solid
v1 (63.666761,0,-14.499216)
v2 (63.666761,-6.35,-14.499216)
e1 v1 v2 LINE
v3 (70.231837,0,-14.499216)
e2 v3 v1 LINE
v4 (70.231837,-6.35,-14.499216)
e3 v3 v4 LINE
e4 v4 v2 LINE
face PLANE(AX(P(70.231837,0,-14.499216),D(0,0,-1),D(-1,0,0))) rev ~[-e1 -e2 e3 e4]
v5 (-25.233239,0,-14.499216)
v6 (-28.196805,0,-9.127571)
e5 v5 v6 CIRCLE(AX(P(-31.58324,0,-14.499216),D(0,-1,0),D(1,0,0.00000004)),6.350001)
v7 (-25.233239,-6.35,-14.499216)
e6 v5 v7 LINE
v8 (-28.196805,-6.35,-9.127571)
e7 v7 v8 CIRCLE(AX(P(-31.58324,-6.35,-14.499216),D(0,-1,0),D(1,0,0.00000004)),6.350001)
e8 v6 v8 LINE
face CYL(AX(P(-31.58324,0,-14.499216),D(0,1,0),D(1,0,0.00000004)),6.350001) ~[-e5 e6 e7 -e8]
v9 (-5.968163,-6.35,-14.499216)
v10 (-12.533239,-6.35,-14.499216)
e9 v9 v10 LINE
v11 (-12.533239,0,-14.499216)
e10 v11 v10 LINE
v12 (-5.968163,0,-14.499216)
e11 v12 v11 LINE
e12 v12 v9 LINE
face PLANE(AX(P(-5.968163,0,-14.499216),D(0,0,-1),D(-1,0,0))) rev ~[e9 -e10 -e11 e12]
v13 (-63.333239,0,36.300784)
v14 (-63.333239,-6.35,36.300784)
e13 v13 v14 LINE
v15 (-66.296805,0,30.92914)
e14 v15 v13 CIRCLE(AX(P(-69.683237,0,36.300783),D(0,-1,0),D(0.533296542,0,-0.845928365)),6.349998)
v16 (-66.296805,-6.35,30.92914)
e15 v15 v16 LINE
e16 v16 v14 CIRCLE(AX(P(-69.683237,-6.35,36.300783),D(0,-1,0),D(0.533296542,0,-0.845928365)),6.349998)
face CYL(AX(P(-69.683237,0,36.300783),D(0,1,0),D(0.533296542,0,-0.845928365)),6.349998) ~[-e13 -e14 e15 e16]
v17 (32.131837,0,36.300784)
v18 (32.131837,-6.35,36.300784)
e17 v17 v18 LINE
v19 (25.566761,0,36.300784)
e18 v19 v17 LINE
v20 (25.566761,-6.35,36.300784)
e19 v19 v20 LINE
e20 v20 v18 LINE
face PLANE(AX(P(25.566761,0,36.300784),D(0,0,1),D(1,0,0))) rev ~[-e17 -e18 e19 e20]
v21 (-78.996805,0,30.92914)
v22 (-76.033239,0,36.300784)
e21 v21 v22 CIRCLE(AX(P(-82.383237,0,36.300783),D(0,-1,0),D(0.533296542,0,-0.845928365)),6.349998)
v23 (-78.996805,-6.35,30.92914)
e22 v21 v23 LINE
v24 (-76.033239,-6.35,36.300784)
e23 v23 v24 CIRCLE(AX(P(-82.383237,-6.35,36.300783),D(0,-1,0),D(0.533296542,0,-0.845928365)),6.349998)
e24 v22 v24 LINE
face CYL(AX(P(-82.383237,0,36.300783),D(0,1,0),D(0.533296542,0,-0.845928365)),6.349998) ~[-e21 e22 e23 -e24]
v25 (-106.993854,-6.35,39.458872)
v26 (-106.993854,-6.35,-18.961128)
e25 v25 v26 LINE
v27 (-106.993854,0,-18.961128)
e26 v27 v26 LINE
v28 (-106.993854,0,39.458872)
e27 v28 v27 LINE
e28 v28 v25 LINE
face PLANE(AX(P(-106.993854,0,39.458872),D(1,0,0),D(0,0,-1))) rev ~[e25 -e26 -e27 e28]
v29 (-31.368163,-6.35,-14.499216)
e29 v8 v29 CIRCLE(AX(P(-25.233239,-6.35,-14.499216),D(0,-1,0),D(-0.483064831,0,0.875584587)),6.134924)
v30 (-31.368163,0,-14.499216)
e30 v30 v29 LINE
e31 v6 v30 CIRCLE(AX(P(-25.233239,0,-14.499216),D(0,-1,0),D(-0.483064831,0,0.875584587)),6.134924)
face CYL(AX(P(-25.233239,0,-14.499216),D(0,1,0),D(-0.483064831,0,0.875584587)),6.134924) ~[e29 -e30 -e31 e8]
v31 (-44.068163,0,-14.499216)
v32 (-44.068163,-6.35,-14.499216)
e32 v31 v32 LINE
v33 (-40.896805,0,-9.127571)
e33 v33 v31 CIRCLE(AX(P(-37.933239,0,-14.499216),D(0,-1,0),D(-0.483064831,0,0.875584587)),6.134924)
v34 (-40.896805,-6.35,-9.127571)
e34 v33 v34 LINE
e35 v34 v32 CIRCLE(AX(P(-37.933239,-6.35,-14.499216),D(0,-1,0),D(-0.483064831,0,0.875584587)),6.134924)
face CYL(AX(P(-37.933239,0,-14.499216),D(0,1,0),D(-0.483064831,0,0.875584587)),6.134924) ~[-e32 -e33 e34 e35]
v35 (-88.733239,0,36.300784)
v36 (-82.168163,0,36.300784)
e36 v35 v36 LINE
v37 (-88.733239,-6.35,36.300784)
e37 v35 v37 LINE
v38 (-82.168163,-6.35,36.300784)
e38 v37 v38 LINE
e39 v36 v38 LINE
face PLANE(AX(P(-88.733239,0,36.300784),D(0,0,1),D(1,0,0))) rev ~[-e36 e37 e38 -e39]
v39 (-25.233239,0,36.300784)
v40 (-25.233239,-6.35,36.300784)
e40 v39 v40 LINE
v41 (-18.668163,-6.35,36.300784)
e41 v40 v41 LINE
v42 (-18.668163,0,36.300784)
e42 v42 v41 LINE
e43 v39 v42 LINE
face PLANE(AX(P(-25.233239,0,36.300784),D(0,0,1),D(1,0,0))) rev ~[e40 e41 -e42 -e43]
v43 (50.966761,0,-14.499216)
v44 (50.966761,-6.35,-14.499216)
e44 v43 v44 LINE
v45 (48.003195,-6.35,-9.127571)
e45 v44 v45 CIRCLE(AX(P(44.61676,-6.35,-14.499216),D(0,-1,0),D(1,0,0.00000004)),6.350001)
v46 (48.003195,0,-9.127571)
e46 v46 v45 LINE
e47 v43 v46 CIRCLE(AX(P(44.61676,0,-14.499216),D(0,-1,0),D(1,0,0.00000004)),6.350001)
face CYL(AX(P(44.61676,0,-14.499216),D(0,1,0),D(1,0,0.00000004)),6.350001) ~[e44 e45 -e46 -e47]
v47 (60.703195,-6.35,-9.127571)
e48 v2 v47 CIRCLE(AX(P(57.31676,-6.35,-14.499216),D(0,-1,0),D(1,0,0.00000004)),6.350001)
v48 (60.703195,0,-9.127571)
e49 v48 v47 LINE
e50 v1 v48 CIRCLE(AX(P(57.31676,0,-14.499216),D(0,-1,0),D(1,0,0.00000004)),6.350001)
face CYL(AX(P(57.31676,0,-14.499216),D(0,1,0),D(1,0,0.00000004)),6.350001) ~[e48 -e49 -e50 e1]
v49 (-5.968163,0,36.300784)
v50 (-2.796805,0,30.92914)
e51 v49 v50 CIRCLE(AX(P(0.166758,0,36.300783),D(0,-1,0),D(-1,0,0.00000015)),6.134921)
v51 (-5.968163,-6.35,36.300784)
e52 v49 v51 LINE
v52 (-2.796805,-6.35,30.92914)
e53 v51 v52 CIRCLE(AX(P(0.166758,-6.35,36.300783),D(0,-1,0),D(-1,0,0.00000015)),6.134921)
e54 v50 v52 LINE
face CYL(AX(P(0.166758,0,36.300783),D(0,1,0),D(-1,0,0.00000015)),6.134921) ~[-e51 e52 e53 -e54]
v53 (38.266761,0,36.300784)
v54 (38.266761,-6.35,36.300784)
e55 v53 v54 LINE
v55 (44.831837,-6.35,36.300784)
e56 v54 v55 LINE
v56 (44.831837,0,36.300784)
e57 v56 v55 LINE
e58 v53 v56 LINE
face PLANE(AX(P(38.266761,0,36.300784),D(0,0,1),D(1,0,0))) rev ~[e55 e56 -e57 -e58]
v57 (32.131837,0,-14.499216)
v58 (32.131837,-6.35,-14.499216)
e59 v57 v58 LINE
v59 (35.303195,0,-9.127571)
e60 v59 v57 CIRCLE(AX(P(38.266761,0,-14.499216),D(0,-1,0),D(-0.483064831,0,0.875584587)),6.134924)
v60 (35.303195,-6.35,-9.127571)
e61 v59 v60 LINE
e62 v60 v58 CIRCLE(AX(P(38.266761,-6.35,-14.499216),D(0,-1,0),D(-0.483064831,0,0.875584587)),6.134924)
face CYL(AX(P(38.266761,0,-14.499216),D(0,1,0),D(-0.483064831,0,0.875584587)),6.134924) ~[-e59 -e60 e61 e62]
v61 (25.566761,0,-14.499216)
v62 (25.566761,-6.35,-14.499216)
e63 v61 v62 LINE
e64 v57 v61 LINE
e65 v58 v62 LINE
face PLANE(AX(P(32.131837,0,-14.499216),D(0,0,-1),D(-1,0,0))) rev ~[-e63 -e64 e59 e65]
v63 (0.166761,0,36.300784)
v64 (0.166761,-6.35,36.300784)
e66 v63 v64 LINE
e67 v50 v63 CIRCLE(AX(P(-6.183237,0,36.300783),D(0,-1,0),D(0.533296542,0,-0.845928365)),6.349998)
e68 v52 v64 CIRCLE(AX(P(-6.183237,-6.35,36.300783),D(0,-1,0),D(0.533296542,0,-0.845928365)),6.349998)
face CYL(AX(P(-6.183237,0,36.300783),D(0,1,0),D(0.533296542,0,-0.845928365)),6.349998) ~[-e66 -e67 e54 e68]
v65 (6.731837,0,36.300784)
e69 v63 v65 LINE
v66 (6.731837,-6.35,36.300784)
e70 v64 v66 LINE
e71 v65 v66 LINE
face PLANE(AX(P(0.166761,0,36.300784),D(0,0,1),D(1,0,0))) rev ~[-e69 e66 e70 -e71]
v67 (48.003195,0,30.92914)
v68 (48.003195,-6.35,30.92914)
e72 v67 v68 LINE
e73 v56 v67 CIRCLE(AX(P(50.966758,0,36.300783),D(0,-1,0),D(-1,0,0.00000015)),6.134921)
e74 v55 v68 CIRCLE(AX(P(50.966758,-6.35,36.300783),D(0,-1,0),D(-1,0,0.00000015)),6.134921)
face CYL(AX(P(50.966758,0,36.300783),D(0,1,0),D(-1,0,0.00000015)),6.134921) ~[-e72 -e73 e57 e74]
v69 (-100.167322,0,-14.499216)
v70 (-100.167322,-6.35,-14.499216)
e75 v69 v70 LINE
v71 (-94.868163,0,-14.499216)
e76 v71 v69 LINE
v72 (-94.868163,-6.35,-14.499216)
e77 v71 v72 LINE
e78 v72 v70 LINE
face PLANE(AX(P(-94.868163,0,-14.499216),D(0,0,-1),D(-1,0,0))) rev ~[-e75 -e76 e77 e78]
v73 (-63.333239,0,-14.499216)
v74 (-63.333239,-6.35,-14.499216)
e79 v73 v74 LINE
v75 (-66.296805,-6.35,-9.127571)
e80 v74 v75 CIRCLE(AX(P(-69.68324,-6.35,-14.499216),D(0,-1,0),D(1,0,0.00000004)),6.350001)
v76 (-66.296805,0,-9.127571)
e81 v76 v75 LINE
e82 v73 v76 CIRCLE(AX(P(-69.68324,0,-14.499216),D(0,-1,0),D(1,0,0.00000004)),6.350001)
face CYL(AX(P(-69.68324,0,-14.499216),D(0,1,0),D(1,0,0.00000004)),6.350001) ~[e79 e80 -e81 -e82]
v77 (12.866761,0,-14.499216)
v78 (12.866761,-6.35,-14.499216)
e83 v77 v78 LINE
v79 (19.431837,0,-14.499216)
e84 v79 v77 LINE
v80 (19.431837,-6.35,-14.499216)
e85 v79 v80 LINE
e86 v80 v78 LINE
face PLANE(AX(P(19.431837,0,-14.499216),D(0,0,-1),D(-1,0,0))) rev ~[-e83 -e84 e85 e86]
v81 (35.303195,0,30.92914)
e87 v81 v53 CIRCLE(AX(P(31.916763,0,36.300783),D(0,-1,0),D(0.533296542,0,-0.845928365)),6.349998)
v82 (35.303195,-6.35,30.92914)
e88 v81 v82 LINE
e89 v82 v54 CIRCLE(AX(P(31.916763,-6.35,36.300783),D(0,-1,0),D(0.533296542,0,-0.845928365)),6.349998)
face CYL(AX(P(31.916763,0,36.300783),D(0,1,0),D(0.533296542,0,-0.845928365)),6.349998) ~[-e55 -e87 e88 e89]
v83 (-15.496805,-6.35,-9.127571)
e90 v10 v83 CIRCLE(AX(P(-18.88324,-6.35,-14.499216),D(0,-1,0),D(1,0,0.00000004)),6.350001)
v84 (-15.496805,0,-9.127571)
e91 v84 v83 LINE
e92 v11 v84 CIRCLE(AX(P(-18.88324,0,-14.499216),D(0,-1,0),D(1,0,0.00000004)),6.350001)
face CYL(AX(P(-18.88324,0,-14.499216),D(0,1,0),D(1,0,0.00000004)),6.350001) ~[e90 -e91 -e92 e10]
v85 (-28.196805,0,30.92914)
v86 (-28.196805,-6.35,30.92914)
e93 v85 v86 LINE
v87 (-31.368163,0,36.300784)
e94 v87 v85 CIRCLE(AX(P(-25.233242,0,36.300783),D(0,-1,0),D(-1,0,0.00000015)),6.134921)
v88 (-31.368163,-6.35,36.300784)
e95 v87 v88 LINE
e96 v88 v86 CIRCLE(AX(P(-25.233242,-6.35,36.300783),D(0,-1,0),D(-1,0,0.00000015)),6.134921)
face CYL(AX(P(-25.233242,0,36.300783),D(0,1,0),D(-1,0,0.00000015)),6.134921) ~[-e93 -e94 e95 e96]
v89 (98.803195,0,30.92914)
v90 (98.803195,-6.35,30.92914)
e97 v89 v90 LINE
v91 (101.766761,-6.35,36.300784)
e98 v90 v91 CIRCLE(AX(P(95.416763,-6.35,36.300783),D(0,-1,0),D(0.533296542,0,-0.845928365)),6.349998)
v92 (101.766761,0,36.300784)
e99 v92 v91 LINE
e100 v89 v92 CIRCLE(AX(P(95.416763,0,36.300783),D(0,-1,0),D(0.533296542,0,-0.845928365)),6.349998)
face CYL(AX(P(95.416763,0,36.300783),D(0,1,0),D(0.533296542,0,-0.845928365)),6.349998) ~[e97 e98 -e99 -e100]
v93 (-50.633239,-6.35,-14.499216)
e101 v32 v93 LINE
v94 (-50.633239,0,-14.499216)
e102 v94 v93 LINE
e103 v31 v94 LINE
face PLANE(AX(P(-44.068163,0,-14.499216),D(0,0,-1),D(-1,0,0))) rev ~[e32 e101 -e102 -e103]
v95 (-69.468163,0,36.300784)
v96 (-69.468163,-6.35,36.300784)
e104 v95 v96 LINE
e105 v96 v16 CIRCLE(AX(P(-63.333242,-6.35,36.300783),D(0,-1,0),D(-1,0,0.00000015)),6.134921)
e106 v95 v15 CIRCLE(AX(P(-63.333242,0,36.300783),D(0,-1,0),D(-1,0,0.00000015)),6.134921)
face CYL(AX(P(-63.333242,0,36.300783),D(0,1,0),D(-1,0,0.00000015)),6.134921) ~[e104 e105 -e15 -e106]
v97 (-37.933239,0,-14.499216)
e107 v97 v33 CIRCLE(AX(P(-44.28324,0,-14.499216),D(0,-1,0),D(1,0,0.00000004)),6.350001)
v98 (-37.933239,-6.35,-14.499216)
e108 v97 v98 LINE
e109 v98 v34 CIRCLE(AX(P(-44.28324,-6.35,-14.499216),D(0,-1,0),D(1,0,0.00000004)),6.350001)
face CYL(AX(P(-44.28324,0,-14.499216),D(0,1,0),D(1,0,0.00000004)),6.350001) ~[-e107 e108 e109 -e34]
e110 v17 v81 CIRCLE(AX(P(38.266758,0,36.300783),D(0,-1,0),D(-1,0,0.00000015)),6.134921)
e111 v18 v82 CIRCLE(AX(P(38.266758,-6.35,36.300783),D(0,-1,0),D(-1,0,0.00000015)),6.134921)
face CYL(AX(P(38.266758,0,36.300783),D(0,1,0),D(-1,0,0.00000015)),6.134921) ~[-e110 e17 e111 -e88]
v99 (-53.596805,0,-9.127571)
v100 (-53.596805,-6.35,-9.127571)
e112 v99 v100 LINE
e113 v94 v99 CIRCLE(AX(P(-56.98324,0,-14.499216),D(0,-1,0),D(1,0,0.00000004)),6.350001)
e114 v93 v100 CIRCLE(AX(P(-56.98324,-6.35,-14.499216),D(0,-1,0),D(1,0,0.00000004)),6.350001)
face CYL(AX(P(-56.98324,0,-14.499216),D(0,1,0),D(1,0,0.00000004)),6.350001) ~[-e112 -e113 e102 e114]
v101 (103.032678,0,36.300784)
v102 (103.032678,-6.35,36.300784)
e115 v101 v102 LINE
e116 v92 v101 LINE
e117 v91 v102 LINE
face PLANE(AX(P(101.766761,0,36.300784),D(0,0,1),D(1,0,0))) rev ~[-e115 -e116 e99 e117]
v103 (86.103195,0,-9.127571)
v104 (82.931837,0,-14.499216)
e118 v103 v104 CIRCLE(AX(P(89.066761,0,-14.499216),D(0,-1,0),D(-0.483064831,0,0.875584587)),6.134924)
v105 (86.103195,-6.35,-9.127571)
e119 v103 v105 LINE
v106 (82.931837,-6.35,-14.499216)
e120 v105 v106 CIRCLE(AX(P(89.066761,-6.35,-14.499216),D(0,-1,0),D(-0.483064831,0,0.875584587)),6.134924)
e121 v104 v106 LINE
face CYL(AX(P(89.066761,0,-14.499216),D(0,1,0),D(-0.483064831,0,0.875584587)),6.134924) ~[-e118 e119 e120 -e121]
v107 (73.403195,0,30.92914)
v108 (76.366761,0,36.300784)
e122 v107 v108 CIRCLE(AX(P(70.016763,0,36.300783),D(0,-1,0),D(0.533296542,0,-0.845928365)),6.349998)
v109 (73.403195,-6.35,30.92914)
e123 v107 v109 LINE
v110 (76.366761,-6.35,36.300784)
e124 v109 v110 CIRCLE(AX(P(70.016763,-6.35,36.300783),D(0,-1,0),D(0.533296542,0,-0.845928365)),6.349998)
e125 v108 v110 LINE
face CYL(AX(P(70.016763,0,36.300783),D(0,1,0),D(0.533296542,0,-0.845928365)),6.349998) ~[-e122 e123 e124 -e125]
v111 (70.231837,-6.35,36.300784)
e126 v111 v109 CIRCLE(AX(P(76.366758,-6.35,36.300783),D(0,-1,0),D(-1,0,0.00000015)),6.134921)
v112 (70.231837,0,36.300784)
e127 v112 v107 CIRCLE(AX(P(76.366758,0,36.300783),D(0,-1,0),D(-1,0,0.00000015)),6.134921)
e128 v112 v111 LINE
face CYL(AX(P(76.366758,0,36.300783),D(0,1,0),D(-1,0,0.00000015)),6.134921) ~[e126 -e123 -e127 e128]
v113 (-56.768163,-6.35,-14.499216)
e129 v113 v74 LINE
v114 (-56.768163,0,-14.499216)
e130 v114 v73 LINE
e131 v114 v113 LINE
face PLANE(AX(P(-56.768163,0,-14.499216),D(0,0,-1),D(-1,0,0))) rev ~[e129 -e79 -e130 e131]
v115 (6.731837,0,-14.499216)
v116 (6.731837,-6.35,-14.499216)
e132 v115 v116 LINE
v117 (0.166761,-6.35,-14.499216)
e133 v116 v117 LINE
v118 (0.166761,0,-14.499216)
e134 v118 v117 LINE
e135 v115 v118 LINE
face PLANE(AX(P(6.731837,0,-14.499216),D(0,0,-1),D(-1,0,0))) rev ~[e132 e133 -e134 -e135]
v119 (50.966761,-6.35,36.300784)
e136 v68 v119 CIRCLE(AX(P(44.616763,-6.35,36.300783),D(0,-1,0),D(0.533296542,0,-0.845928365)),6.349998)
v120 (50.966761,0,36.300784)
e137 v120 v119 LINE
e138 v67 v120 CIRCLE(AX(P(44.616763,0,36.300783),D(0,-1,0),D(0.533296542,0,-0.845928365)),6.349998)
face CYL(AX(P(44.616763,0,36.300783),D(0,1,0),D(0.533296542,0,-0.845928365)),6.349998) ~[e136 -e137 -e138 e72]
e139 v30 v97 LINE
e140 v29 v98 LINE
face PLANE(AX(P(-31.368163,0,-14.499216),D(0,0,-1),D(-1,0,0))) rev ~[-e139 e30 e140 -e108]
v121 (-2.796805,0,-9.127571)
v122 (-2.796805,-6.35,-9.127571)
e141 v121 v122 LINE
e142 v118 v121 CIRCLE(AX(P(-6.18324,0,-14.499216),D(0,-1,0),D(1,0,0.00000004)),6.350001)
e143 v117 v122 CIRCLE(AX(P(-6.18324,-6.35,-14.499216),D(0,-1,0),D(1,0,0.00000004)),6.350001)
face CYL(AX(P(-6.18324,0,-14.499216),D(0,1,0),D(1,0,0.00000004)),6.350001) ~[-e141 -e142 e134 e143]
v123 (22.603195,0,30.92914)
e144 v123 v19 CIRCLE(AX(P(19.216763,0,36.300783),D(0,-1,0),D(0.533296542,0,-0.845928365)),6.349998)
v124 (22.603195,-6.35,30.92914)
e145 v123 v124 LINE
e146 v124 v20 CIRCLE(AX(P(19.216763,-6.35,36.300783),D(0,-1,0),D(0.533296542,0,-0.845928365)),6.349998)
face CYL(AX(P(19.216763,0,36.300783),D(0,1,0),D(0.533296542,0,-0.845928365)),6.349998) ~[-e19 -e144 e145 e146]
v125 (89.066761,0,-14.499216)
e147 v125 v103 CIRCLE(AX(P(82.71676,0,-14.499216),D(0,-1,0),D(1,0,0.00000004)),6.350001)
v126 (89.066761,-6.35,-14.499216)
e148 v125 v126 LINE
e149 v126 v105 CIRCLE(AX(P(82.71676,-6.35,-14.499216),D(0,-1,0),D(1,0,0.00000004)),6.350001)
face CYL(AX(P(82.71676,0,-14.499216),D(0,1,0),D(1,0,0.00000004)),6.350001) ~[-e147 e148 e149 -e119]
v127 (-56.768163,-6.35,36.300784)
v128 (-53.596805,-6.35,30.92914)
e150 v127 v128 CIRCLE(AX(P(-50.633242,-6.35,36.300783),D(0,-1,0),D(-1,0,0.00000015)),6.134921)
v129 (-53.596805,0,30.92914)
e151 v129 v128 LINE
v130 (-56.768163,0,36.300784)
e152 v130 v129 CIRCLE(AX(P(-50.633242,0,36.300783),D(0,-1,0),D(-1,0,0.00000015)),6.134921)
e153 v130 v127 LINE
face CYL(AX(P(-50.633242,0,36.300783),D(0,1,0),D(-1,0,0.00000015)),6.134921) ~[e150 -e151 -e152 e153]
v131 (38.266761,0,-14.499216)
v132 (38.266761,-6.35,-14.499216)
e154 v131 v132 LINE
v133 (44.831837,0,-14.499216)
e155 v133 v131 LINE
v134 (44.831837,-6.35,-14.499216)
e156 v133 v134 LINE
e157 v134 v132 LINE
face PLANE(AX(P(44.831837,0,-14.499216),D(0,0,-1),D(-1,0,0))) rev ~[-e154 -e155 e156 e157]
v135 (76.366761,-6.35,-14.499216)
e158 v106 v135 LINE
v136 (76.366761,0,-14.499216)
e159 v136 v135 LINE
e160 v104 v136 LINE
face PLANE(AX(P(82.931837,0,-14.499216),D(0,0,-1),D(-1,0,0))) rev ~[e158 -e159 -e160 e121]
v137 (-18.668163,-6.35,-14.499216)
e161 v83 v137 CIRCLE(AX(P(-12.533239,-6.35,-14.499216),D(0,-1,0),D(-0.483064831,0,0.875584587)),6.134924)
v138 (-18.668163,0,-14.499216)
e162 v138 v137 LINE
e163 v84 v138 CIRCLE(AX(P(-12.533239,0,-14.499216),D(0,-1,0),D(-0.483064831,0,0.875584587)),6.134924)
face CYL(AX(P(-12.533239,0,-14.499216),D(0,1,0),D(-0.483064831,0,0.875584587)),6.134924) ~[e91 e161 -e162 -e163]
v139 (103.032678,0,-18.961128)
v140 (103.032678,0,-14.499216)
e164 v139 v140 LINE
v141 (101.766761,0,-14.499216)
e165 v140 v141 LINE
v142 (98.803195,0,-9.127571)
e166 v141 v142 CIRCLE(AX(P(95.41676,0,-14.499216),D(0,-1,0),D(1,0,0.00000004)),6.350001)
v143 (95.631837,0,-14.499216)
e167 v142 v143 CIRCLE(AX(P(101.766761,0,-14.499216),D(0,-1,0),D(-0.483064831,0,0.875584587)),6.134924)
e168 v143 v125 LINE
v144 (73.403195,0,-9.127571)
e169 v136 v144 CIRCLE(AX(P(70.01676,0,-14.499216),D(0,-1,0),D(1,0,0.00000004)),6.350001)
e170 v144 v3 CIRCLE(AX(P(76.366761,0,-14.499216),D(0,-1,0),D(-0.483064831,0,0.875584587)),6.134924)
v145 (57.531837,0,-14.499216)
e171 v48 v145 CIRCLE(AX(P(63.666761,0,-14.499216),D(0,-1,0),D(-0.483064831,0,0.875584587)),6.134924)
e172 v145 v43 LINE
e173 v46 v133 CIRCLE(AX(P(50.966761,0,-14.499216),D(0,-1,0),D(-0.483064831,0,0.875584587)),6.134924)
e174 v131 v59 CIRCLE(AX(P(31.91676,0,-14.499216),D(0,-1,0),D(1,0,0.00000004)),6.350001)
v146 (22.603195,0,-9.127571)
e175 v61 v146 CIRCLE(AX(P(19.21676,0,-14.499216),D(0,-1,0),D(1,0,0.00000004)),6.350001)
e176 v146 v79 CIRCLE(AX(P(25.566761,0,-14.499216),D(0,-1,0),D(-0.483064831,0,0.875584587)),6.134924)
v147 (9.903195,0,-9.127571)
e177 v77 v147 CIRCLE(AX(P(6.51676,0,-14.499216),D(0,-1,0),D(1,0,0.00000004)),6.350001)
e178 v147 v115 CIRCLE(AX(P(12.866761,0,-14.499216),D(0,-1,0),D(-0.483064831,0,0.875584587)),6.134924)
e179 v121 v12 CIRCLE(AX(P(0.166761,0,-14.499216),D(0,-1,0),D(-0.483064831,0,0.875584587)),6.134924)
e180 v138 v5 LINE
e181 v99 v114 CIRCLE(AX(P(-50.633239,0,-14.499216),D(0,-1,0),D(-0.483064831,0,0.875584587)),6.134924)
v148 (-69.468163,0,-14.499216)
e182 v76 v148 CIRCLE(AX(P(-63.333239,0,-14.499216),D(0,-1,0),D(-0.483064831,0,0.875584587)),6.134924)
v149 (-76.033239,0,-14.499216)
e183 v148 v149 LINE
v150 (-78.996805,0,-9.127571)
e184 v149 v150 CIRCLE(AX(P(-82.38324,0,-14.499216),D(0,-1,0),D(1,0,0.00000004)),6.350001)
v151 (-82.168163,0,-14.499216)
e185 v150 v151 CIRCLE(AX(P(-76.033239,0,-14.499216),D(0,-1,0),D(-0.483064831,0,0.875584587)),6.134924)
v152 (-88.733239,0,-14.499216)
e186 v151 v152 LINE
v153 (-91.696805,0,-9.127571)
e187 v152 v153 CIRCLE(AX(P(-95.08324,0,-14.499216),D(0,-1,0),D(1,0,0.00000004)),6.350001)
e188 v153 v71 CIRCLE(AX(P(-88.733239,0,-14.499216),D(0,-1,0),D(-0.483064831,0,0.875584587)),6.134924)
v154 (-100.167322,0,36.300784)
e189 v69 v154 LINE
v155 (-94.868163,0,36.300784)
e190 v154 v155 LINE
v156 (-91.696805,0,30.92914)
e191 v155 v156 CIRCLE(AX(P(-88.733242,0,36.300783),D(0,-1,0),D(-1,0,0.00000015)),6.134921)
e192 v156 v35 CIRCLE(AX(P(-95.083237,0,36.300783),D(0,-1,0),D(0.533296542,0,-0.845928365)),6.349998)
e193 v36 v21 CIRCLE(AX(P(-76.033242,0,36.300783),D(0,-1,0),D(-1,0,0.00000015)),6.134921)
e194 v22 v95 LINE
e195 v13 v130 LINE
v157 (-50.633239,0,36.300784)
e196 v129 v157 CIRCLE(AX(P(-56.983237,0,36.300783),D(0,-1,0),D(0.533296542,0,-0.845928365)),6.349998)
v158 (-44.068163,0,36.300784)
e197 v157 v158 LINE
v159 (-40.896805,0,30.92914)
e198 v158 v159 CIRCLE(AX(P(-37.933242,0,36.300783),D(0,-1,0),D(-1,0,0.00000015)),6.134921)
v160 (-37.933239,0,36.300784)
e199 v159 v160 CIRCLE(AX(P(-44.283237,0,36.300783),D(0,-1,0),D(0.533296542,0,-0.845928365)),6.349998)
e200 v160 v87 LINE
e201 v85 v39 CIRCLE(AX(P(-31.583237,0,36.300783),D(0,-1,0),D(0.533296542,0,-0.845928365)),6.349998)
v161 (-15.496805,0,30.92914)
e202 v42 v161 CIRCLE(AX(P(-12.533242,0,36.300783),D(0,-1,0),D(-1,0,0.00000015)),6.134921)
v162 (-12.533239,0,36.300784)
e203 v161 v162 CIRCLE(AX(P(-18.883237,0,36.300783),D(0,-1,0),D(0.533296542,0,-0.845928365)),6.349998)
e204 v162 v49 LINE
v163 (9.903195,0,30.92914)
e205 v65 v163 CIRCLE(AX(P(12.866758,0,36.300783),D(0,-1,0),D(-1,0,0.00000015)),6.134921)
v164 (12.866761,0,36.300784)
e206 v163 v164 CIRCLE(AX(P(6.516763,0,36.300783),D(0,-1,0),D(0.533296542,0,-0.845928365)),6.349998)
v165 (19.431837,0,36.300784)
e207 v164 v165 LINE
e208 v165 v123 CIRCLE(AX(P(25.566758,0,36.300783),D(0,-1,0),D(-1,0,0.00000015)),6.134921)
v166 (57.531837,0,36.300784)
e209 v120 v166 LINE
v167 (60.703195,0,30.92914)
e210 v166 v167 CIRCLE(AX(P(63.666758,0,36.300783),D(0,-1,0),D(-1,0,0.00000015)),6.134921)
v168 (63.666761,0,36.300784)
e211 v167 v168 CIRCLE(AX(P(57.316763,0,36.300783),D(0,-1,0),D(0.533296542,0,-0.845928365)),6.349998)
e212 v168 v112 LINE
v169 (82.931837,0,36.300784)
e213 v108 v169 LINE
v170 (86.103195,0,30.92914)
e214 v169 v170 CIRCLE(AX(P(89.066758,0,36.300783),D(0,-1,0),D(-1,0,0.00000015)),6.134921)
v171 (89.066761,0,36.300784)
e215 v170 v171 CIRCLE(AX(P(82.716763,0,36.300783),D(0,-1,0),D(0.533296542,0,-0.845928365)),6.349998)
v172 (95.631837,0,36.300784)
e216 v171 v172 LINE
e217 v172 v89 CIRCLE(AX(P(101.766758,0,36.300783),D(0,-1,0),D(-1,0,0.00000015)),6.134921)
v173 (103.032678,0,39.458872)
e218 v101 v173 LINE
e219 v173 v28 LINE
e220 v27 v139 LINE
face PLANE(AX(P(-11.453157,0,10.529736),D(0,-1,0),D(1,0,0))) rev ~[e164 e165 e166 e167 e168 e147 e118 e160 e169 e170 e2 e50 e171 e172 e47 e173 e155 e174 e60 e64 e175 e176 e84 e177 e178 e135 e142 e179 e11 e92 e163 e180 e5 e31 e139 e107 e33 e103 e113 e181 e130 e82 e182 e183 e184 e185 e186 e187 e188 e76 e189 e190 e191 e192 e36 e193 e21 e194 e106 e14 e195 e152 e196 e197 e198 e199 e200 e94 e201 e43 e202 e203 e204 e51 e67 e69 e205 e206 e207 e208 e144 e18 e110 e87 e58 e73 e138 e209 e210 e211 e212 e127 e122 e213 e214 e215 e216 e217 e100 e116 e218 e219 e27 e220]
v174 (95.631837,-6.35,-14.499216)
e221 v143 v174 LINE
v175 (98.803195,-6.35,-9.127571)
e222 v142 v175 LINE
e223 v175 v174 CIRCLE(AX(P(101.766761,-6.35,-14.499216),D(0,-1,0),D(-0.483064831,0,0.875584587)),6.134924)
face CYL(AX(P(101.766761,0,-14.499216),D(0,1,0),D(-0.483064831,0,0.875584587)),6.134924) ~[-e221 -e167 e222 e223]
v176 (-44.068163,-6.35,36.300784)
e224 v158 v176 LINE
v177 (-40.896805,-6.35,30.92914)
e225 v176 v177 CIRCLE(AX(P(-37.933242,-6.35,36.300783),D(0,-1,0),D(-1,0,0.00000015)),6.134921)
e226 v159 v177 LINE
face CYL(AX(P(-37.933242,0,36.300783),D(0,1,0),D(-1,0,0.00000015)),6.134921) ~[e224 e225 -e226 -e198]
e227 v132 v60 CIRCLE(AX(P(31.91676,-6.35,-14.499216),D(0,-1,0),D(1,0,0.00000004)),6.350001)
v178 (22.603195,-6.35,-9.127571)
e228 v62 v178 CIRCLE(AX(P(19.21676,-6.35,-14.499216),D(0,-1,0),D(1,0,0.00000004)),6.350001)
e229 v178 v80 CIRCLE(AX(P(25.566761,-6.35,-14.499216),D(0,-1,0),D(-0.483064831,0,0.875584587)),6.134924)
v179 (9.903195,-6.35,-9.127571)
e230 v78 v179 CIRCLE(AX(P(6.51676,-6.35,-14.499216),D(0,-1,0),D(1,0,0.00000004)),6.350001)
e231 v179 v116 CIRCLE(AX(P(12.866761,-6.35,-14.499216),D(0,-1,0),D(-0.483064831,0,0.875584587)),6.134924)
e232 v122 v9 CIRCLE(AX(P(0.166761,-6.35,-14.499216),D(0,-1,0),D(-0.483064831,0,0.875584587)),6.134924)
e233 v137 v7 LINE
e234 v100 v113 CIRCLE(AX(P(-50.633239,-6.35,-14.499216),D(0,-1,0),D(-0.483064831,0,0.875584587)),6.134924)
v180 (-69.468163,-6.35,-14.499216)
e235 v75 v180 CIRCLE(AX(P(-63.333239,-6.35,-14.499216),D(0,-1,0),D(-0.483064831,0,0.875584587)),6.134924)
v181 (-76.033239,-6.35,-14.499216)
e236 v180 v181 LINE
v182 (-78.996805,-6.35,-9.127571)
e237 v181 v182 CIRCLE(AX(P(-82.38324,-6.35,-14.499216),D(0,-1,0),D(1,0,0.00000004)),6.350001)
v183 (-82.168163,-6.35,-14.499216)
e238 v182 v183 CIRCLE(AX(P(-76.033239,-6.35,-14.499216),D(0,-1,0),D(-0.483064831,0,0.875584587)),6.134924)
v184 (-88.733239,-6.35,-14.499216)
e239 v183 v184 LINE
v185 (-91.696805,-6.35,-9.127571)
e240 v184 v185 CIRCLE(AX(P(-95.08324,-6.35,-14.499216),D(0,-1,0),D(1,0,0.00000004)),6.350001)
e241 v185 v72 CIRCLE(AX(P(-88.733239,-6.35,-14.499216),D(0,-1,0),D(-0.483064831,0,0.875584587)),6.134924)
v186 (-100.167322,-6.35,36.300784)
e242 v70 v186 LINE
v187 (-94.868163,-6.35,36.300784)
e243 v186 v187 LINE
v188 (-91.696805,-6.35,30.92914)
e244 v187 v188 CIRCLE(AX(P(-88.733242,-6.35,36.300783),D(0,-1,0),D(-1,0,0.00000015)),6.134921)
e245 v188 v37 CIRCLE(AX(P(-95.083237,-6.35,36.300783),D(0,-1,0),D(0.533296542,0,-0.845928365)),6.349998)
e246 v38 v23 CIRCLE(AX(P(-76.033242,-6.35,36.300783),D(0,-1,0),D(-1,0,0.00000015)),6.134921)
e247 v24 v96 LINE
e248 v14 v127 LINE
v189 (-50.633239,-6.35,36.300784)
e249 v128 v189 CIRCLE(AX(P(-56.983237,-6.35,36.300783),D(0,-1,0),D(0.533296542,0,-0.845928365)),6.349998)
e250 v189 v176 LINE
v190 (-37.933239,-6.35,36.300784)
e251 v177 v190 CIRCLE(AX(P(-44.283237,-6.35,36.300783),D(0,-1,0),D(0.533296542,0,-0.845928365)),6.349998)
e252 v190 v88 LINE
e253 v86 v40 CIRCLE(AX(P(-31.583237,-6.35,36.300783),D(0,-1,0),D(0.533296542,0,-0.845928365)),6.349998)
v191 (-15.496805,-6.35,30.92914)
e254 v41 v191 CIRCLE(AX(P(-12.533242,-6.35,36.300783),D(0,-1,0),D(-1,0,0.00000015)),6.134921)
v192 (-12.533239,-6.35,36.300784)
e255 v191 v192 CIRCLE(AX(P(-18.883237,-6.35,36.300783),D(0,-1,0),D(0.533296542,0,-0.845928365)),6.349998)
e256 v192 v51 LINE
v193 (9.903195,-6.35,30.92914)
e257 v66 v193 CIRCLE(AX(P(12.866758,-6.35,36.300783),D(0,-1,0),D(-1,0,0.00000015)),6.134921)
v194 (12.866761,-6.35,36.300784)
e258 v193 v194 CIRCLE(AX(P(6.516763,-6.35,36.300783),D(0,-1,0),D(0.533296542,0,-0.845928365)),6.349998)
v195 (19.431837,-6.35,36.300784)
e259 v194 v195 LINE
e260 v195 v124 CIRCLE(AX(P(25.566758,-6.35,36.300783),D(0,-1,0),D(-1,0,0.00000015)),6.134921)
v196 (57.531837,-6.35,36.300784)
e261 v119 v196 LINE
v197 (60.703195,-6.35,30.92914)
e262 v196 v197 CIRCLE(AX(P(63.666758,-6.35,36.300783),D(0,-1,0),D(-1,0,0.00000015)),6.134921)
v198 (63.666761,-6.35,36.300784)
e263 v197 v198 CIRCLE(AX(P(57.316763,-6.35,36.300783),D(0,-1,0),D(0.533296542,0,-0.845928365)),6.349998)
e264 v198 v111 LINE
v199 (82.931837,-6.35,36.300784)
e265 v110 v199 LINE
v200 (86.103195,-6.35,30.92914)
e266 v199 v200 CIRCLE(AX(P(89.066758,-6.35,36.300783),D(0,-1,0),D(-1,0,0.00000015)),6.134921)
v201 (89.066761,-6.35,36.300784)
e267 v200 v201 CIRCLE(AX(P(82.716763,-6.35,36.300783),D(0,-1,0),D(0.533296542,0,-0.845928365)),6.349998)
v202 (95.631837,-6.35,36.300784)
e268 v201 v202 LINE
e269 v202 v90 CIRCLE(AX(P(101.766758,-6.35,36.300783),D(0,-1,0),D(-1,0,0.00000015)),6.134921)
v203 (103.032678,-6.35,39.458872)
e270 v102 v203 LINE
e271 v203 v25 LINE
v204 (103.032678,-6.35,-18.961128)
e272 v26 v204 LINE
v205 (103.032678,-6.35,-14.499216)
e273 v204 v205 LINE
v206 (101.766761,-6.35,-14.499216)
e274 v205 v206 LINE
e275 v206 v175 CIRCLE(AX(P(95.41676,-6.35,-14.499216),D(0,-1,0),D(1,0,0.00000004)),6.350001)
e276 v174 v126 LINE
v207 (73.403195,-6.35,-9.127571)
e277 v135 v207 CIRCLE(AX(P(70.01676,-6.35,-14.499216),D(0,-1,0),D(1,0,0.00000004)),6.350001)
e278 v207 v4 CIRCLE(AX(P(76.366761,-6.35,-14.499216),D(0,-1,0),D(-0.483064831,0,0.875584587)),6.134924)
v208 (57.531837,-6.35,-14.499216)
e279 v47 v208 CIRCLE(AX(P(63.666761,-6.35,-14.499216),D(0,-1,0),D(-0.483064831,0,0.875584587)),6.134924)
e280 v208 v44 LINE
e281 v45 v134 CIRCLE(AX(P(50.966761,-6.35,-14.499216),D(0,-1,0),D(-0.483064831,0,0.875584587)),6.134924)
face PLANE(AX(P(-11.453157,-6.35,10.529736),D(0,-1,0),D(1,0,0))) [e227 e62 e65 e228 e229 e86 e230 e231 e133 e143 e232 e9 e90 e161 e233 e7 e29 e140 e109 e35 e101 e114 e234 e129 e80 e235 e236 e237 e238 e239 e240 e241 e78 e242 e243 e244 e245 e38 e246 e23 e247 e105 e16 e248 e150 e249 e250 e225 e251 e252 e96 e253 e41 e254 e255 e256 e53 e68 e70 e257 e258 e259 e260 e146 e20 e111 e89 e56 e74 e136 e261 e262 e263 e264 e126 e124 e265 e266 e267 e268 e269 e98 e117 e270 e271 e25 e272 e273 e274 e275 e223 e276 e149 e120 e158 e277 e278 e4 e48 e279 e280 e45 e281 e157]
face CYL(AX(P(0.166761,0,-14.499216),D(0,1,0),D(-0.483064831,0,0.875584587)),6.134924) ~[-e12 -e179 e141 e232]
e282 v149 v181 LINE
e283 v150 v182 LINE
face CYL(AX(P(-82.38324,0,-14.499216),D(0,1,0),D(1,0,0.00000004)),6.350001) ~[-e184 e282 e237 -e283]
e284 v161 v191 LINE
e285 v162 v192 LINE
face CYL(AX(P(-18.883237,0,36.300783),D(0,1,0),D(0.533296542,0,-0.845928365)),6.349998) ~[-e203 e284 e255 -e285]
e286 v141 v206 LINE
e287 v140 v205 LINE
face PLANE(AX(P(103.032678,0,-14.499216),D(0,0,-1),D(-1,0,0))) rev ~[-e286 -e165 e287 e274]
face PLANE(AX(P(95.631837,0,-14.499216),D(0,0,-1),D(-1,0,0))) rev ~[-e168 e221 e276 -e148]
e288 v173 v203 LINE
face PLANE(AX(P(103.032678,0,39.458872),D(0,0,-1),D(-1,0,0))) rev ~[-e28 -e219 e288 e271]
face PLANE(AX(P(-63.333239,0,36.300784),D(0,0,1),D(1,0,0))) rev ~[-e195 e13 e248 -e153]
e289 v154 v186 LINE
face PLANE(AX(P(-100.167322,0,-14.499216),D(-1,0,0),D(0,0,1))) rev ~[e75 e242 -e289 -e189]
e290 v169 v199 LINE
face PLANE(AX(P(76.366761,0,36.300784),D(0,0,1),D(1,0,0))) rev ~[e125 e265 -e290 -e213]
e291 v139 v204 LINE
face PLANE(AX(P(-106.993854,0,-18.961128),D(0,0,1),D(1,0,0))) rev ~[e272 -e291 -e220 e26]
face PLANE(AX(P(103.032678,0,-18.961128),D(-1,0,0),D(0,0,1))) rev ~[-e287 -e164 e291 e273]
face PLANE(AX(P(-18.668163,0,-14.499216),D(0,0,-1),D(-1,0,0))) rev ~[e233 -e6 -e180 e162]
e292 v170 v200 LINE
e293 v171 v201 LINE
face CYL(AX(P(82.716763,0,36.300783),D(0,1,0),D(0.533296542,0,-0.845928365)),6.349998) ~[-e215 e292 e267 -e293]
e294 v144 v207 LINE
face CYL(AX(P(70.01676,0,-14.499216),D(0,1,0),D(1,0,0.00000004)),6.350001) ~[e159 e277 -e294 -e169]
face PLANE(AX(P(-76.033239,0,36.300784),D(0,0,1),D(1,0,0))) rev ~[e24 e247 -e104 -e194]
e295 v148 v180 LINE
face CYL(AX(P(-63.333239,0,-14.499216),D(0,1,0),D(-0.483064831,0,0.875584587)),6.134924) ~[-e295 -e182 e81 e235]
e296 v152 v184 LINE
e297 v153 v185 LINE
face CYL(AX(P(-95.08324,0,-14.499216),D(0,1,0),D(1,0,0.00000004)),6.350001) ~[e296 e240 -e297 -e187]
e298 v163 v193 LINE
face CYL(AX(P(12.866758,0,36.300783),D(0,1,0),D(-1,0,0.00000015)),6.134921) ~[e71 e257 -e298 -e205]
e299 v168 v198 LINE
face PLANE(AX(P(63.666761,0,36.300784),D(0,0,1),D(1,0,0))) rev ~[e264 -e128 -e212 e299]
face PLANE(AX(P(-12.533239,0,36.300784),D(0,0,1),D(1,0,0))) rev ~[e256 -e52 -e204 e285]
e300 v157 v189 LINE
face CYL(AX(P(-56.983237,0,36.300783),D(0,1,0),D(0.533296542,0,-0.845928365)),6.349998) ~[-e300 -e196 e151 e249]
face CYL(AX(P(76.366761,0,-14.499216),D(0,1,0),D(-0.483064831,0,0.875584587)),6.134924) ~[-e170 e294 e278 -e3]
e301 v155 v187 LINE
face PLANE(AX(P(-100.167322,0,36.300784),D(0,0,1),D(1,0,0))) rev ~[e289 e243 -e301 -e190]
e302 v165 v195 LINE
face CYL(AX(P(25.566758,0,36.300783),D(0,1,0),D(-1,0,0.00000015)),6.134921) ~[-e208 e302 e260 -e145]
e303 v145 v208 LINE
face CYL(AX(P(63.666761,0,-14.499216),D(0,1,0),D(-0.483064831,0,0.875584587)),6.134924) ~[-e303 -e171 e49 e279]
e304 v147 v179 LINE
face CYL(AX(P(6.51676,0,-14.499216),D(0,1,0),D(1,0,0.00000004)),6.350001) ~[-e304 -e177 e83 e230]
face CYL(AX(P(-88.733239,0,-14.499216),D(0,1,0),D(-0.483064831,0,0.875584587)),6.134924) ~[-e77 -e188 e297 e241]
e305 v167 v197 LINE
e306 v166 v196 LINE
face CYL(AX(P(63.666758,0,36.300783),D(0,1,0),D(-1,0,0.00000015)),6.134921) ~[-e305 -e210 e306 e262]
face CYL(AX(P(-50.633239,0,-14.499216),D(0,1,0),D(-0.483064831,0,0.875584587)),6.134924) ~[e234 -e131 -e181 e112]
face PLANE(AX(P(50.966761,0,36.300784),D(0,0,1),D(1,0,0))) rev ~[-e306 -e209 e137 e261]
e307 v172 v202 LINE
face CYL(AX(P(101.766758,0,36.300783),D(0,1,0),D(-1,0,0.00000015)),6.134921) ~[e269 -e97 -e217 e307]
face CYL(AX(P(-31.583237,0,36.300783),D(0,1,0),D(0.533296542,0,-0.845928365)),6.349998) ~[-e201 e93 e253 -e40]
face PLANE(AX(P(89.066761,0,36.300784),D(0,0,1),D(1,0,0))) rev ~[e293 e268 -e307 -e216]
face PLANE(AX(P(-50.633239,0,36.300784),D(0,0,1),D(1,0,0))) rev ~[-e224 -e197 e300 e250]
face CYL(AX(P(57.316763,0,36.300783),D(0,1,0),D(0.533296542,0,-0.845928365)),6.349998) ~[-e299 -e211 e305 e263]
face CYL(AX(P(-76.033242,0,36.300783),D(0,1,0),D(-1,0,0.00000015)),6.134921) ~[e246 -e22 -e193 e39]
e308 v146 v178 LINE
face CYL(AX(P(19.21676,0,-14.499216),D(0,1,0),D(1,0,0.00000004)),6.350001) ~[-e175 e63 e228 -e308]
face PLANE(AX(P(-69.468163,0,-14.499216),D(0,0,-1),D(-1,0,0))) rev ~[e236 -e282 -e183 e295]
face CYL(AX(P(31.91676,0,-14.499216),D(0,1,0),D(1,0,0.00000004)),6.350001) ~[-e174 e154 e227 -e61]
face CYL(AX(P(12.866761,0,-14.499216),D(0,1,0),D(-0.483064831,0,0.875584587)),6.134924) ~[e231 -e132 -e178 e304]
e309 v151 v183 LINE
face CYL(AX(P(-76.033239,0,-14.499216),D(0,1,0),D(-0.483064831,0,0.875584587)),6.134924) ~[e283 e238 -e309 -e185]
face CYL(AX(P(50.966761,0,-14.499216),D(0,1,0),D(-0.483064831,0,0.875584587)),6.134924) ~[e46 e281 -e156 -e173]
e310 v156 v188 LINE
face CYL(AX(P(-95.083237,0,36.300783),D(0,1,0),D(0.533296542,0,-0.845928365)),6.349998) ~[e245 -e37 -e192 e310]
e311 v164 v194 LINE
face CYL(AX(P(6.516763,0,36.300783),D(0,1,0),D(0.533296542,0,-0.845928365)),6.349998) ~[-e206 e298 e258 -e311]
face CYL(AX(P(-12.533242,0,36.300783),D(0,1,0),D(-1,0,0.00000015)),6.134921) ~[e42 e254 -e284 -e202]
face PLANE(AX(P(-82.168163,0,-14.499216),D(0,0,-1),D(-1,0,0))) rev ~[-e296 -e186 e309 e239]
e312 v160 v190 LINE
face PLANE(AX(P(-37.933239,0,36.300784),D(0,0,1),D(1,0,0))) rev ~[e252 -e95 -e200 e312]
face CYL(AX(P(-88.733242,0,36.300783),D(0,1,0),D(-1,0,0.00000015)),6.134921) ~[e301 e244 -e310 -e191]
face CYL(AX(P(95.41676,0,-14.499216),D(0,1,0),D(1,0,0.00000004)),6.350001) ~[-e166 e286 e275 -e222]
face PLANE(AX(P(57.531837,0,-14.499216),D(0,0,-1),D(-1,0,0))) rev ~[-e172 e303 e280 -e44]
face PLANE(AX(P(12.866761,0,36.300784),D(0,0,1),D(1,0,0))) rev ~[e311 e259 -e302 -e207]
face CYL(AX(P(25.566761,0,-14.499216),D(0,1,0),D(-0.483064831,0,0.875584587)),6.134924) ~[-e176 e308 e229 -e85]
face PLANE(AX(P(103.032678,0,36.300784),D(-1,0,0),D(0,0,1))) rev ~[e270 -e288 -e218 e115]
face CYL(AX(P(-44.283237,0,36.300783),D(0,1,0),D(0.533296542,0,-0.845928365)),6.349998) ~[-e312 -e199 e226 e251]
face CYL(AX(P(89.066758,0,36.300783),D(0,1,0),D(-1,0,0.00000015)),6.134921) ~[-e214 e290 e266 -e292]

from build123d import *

# Parameters (mm, degrees)
F1_DEPTH = 6.35


with BuildPart() as f1:
    # F0 (on Front) → F1 (new body)
    with BuildSketch(Plane.XZ):
        Polygon((-100.167322, -14.499216), (-100.167322, 36.300784), (-94.868163, 36.300784), (-88.733239, 36.300784), (-82.168163, 36.300784), (-76.033239, 36.300784), (-69.468163, 36.300784), (-63.333239, 36.300784), (-56.768163, 36.300784), (-50.633239, 36.300784), (-44.068163, 36.300784), (-37.933239, 36.300784), (-31.368163, 36.300784), (-25.233239, 36.300784), (-18.668163, 36.300784), (-12.533239, 36.300784), (-5.968163, 36.300784), (0.166761, 36.300784), (6.731837, 36.300784), (12.866761, 36.300784), (19.431837, 36.300784), (25.566761, 36.300784), (32.131837, 36.300784), (38.266761, 36.300784), (44.831837, 36.300784), (50.966761, 36.300784), (57.531837, 36.300784), (63.666761, 36.300784), (70.231837, 36.300784), (76.366761, 36.300784), (82.931837, 36.300784), (89.066761, 36.300784), (95.631837, 36.300784), (101.766761, 36.300784), (103.032678, 36.300784), (103.032678, 39.458872), (-106.993854, 39.458872), (-106.993854, -18.961128), (103.032678, -18.961128), (103.032678, -14.499216), (101.766761, -14.499216), (95.631837, -14.499216), (89.066761, -14.499216), (82.931837, -14.499216), (76.366761, -14.499216), (70.231837, -14.499216), (63.666761, -14.499216), (57.531837, -14.499216), (50.966761, -14.499216), (44.831837, -14.499216), (38.266761, -14.499216), (32.131837, -14.499216), (25.566761, -14.499216), (19.431837, -14.499216), (12.866761, -14.499216), (6.731837, -14.499216), (0.166761, -14.499216), (-5.968163, -14.499216), (-12.533239, -14.499216), (-18.668163, -14.499216), (-25.233239, -14.499216), (-31.368163, -14.499216), (-37.933239, -14.499216), (-44.068163, -14.499216), (-50.633239, -14.499216), (-56.768163, -14.499216), (-63.333239, -14.499216), (-69.468163, -14.499216), (-76.033239, -14.499216), (-82.168163, -14.499216), (-88.733239, -14.499216), (-94.868163, -14.499216), align=None)
        with BuildLine():
            Line((-88.733239, 36.300784), (-94.868163, 36.300784))
            ThreePointArc((-94.868163, 36.300784), (-94.016162, 33.181807), (-91.696805, 30.92914))
            ThreePointArc((-91.696805, 30.92914), (-89.523277, 33.233322), (-88.733239, 36.300784))
        make_face()
        with BuildLine():
            Line((-76.033239, 36.300784), (-82.168163, 36.300784))
            ThreePointArc((-82.168163, 36.300784), (-81.316162, 33.181807), (-78.996805, 30.92914))
            ThreePointArc((-78.996805, 30.92914), (-76.823277, 33.233322), (-76.033239, 36.300784))
        make_face()
        with BuildLine():
            Line((-63.333239, 36.300784), (-69.468163, 36.300784))
            ThreePointArc((-69.468163, 36.300784), (-68.616162, 33.181807), (-66.296805, 30.92914))
            ThreePointArc((-66.296805, 30.92914), (-64.123277, 33.233322), (-63.333239, 36.300784))
        make_face()
        with BuildLine():
            Line((-50.633239, 36.300784), (-56.768163, 36.300784))
            ThreePointArc((-56.768163, 36.300784), (-55.916162, 33.181807), (-53.596805, 30.92914))
            ThreePointArc((-53.596805, 30.92914), (-51.423277, 33.233322), (-50.633239, 36.300784))
        make_face()
        with BuildLine():
            Line((-37.933239, 36.300784), (-44.068163, 36.300784))
            ThreePointArc((-44.068163, 36.300784), (-43.216162, 33.181807), (-40.896805, 30.92914))
            ThreePointArc((-40.896805, 30.92914), (-38.723277, 33.233322), (-37.933239, 36.300784))
        make_face()
        with BuildLine():
            Line((-25.233239, 36.300784), (-31.368163, 36.300784))
            ThreePointArc((-31.368163, 36.300784), (-30.516162, 33.181807), (-28.196805, 30.92914))
            ThreePointArc((-28.196805, 30.92914), (-26.023277, 33.233322), (-25.233239, 36.300784))
        make_face()
        with BuildLine():
            Line((-12.533239, 36.300784), (-18.668163, 36.300784))
            ThreePointArc((-18.668163, 36.300784), (-17.816162, 33.181807), (-15.496805, 30.92914))
            ThreePointArc((-15.496805, 30.92914), (-13.323277, 33.233322), (-12.533239, 36.300784))
        make_face()
        with BuildLine():
            Line((0.166761, 36.300784), (-5.968163, 36.300784))
            ThreePointArc((-5.968163, 36.300784), (-5.116162, 33.181807), (-2.796805, 30.92914))
            ThreePointArc((-2.796805, 30.92914), (-0.623277, 33.233322), (0.166761, 36.300784))
        make_face()
        with BuildLine():
            Line((12.866761, 36.300784), (6.731837, 36.300784))
            ThreePointArc((6.731837, 36.300784), (7.583838, 33.181807), (9.903195, 30.92914))
            ThreePointArc((9.903195, 30.92914), (12.076723, 33.233322), (12.866761, 36.300784))
        make_face()
        with BuildLine():
            Line((25.566761, 36.300784), (19.431837, 36.300784))
            ThreePointArc((19.431837, 36.300784), (20.283838, 33.181807), (22.603195, 30.92914))
            ThreePointArc((22.603195, 30.92914), (24.776723, 33.233322), (25.566761, 36.300784))
        make_face()
        with BuildLine():
            Line((38.266761, 36.300784), (32.131837, 36.300784))
            ThreePointArc((32.131837, 36.300784), (32.983838, 33.181807), (35.303195, 30.92914))
            ThreePointArc((35.303195, 30.92914), (37.476723, 33.233322), (38.266761, 36.300784))
        make_face()
        with BuildLine():
            Line((50.966761, 36.300784), (44.831837, 36.300784))
            ThreePointArc((44.831837, 36.300784), (45.683838, 33.181807), (48.003195, 30.92914))
            ThreePointArc((48.003195, 30.92914), (50.176723, 33.233322), (50.966761, 36.300784))
        make_face()
        with BuildLine():
            Line((63.666761, 36.300784), (57.531837, 36.300784))
            ThreePointArc((57.531837, 36.300784), (58.383838, 33.181807), (60.703195, 30.92914))
            ThreePointArc((60.703195, 30.92914), (62.876723, 33.233322), (63.666761, 36.300784))
        make_face()
        with BuildLine():
            Line((76.366761, 36.300784), (70.231837, 36.300784))
            ThreePointArc((70.231837, 36.300784), (71.083838, 33.181807), (73.403195, 30.92914))
            ThreePointArc((73.403195, 30.92914), (75.576723, 33.233322), (76.366761, 36.300784))
        make_face()
        with BuildLine():
            Line((89.066761, 36.300784), (82.931837, 36.300784))
            ThreePointArc((82.931837, 36.300784), (83.783838, 33.181807), (86.103195, 30.92914))
            ThreePointArc((86.103195, 30.92914), (88.276723, 33.233322), (89.066761, 36.300784))
        make_face()
        with BuildLine():
            Line((101.766761, 36.300784), (95.631837, 36.300784))
            ThreePointArc((95.631837, 36.300784), (96.483838, 33.181807), (98.803195, 30.92914))
            ThreePointArc((98.803195, 30.92914), (100.976723, 33.233322), (101.766761, 36.300784))
        make_face()
        with BuildLine():
            ThreePointArc((98.803195, -9.127571), (96.483838, -11.380239), (95.631837, -14.499216))
            Line((95.631837, -14.499216), (101.766761, -14.499216))
            ThreePointArc((101.766761, -14.499216), (100.976723, -11.431754), (98.803195, -9.127571))
        make_face()
        with BuildLine():
            ThreePointArc((86.103195, -9.127571), (83.783838, -11.380239), (82.931837, -14.499216))
            Line((82.931837, -14.499216), (89.066761, -14.499216))
            ThreePointArc((89.066761, -14.499216), (88.276723, -11.431754), (86.103195, -9.127571))
        make_face()
        with BuildLine():
            ThreePointArc((73.403195, -9.127571), (71.083838, -11.380239), (70.231837, -14.499216))
            Line((70.231837, -14.499216), (76.366761, -14.499216))
            ThreePointArc((76.366761, -14.499216), (75.576723, -11.431754), (73.403195, -9.127571))
        make_face()
        with BuildLine():
            ThreePointArc((60.703195, -9.127571), (58.383838, -11.380239), (57.531837, -14.499216))
            Line((57.531837, -14.499216), (63.666761, -14.499216))
            ThreePointArc((63.666761, -14.499216), (62.876723, -11.431754), (60.703195, -9.127571))
        make_face()
        with BuildLine():
            ThreePointArc((48.003195, -9.127571), (45.683838, -11.380239), (44.831837, -14.499216))
            Line((44.831837, -14.499216), (50.966761, -14.499216))
            ThreePointArc((50.966761, -14.499216), (50.176723, -11.431754), (48.003195, -9.127571))
        make_face()
        with BuildLine():
            ThreePointArc((35.303195, -9.127571), (32.983838, -11.380239), (32.131837, -14.499216))
            Line((32.131837, -14.499216), (38.266761, -14.499216))
            ThreePointArc((38.266761, -14.499216), (37.476723, -11.431754), (35.303195, -9.127571))
        make_face()
        with BuildLine():
            ThreePointArc((22.603195, -9.127571), (20.283838, -11.380239), (19.431837, -14.499216))
            Line((19.431837, -14.499216), (25.566761, -14.499216))
            ThreePointArc((25.566761, -14.499216), (24.776723, -11.431754), (22.603195, -9.127571))
        make_face()
        with BuildLine():
            ThreePointArc((9.903195, -9.127571), (7.583838, -11.380239), (6.731837, -14.499216))
            Line((6.731837, -14.499216), (12.866761, -14.499216))
            ThreePointArc((12.866761, -14.499216), (12.076723, -11.431754), (9.903195, -9.127571))
        make_face()
        with BuildLine():
            ThreePointArc((-2.796805, -9.127571), (-5.116162, -11.380239), (-5.968163, -14.499216))
            Line((-5.968163, -14.499216), (0.166761, -14.499216))
            ThreePointArc((0.166761, -14.499216), (-0.623277, -11.431754), (-2.796805, -9.127571))
        make_face()
        with BuildLine():
            ThreePointArc((-15.496805, -9.127571), (-17.816162, -11.380239), (-18.668163, -14.499216))
            Line((-18.668163, -14.499216), (-12.533239, -14.499216))
            ThreePointArc((-12.533239, -14.499216), (-13.323277, -11.431754), (-15.496805, -9.127571))
        make_face()
        with BuildLine():
            ThreePointArc((-28.196805, -9.127571), (-30.516162, -11.380239), (-31.368163, -14.499216))
            Line((-31.368163, -14.499216), (-25.233239, -14.499216))
            ThreePointArc((-25.233239, -14.499216), (-26.023277, -11.431754), (-28.196805, -9.127571))
        make_face()
        with BuildLine():
            ThreePointArc((-40.896805, -9.127571), (-43.216162, -11.380239), (-44.068163, -14.499216))
            Line((-44.068163, -14.499216), (-37.933239, -14.499216))
            ThreePointArc((-37.933239, -14.499216), (-38.723277, -11.431754), (-40.896805, -9.127571))
        make_face()
        with BuildLine():
            ThreePointArc((-53.596805, -9.127571), (-55.916162, -11.380239), (-56.768163, -14.499216))
            Line((-56.768163, -14.499216), (-50.633239, -14.499216))
            ThreePointArc((-50.633239, -14.499216), (-51.423277, -11.431754), (-53.596805, -9.127571))
        make_face()
        with BuildLine():
            ThreePointArc((-66.296805, -9.127571), (-68.616162, -11.380239), (-69.468163, -14.499216))
            Line((-69.468163, -14.499216), (-63.333239, -14.499216))
            ThreePointArc((-63.333239, -14.499216), (-64.123277, -11.431754), (-66.296805, -9.127571))
        make_face()
        with BuildLine():
            ThreePointArc((-78.996805, -9.127571), (-81.316162, -11.380239), (-82.168163, -14.499216))
            Line((-82.168163, -14.499216), (-76.033239, -14.499216))
            ThreePointArc((-76.033239, -14.499216), (-76.823277, -11.431754), (-78.996805, -9.127571))
        make_face()
        with BuildLine():
            ThreePointArc((-91.696805, -9.127571), (-94.016162, -11.380239), (-94.868163, -14.499216))
            Line((-94.868163, -14.499216), (-88.733239, -14.499216))
            ThreePointArc((-88.733239, -14.499216), (-89.523277, -11.431754), (-91.696805, -9.127571))
        make_face()
    extrude(amount=F1_DEPTH)


solid = f1.part
